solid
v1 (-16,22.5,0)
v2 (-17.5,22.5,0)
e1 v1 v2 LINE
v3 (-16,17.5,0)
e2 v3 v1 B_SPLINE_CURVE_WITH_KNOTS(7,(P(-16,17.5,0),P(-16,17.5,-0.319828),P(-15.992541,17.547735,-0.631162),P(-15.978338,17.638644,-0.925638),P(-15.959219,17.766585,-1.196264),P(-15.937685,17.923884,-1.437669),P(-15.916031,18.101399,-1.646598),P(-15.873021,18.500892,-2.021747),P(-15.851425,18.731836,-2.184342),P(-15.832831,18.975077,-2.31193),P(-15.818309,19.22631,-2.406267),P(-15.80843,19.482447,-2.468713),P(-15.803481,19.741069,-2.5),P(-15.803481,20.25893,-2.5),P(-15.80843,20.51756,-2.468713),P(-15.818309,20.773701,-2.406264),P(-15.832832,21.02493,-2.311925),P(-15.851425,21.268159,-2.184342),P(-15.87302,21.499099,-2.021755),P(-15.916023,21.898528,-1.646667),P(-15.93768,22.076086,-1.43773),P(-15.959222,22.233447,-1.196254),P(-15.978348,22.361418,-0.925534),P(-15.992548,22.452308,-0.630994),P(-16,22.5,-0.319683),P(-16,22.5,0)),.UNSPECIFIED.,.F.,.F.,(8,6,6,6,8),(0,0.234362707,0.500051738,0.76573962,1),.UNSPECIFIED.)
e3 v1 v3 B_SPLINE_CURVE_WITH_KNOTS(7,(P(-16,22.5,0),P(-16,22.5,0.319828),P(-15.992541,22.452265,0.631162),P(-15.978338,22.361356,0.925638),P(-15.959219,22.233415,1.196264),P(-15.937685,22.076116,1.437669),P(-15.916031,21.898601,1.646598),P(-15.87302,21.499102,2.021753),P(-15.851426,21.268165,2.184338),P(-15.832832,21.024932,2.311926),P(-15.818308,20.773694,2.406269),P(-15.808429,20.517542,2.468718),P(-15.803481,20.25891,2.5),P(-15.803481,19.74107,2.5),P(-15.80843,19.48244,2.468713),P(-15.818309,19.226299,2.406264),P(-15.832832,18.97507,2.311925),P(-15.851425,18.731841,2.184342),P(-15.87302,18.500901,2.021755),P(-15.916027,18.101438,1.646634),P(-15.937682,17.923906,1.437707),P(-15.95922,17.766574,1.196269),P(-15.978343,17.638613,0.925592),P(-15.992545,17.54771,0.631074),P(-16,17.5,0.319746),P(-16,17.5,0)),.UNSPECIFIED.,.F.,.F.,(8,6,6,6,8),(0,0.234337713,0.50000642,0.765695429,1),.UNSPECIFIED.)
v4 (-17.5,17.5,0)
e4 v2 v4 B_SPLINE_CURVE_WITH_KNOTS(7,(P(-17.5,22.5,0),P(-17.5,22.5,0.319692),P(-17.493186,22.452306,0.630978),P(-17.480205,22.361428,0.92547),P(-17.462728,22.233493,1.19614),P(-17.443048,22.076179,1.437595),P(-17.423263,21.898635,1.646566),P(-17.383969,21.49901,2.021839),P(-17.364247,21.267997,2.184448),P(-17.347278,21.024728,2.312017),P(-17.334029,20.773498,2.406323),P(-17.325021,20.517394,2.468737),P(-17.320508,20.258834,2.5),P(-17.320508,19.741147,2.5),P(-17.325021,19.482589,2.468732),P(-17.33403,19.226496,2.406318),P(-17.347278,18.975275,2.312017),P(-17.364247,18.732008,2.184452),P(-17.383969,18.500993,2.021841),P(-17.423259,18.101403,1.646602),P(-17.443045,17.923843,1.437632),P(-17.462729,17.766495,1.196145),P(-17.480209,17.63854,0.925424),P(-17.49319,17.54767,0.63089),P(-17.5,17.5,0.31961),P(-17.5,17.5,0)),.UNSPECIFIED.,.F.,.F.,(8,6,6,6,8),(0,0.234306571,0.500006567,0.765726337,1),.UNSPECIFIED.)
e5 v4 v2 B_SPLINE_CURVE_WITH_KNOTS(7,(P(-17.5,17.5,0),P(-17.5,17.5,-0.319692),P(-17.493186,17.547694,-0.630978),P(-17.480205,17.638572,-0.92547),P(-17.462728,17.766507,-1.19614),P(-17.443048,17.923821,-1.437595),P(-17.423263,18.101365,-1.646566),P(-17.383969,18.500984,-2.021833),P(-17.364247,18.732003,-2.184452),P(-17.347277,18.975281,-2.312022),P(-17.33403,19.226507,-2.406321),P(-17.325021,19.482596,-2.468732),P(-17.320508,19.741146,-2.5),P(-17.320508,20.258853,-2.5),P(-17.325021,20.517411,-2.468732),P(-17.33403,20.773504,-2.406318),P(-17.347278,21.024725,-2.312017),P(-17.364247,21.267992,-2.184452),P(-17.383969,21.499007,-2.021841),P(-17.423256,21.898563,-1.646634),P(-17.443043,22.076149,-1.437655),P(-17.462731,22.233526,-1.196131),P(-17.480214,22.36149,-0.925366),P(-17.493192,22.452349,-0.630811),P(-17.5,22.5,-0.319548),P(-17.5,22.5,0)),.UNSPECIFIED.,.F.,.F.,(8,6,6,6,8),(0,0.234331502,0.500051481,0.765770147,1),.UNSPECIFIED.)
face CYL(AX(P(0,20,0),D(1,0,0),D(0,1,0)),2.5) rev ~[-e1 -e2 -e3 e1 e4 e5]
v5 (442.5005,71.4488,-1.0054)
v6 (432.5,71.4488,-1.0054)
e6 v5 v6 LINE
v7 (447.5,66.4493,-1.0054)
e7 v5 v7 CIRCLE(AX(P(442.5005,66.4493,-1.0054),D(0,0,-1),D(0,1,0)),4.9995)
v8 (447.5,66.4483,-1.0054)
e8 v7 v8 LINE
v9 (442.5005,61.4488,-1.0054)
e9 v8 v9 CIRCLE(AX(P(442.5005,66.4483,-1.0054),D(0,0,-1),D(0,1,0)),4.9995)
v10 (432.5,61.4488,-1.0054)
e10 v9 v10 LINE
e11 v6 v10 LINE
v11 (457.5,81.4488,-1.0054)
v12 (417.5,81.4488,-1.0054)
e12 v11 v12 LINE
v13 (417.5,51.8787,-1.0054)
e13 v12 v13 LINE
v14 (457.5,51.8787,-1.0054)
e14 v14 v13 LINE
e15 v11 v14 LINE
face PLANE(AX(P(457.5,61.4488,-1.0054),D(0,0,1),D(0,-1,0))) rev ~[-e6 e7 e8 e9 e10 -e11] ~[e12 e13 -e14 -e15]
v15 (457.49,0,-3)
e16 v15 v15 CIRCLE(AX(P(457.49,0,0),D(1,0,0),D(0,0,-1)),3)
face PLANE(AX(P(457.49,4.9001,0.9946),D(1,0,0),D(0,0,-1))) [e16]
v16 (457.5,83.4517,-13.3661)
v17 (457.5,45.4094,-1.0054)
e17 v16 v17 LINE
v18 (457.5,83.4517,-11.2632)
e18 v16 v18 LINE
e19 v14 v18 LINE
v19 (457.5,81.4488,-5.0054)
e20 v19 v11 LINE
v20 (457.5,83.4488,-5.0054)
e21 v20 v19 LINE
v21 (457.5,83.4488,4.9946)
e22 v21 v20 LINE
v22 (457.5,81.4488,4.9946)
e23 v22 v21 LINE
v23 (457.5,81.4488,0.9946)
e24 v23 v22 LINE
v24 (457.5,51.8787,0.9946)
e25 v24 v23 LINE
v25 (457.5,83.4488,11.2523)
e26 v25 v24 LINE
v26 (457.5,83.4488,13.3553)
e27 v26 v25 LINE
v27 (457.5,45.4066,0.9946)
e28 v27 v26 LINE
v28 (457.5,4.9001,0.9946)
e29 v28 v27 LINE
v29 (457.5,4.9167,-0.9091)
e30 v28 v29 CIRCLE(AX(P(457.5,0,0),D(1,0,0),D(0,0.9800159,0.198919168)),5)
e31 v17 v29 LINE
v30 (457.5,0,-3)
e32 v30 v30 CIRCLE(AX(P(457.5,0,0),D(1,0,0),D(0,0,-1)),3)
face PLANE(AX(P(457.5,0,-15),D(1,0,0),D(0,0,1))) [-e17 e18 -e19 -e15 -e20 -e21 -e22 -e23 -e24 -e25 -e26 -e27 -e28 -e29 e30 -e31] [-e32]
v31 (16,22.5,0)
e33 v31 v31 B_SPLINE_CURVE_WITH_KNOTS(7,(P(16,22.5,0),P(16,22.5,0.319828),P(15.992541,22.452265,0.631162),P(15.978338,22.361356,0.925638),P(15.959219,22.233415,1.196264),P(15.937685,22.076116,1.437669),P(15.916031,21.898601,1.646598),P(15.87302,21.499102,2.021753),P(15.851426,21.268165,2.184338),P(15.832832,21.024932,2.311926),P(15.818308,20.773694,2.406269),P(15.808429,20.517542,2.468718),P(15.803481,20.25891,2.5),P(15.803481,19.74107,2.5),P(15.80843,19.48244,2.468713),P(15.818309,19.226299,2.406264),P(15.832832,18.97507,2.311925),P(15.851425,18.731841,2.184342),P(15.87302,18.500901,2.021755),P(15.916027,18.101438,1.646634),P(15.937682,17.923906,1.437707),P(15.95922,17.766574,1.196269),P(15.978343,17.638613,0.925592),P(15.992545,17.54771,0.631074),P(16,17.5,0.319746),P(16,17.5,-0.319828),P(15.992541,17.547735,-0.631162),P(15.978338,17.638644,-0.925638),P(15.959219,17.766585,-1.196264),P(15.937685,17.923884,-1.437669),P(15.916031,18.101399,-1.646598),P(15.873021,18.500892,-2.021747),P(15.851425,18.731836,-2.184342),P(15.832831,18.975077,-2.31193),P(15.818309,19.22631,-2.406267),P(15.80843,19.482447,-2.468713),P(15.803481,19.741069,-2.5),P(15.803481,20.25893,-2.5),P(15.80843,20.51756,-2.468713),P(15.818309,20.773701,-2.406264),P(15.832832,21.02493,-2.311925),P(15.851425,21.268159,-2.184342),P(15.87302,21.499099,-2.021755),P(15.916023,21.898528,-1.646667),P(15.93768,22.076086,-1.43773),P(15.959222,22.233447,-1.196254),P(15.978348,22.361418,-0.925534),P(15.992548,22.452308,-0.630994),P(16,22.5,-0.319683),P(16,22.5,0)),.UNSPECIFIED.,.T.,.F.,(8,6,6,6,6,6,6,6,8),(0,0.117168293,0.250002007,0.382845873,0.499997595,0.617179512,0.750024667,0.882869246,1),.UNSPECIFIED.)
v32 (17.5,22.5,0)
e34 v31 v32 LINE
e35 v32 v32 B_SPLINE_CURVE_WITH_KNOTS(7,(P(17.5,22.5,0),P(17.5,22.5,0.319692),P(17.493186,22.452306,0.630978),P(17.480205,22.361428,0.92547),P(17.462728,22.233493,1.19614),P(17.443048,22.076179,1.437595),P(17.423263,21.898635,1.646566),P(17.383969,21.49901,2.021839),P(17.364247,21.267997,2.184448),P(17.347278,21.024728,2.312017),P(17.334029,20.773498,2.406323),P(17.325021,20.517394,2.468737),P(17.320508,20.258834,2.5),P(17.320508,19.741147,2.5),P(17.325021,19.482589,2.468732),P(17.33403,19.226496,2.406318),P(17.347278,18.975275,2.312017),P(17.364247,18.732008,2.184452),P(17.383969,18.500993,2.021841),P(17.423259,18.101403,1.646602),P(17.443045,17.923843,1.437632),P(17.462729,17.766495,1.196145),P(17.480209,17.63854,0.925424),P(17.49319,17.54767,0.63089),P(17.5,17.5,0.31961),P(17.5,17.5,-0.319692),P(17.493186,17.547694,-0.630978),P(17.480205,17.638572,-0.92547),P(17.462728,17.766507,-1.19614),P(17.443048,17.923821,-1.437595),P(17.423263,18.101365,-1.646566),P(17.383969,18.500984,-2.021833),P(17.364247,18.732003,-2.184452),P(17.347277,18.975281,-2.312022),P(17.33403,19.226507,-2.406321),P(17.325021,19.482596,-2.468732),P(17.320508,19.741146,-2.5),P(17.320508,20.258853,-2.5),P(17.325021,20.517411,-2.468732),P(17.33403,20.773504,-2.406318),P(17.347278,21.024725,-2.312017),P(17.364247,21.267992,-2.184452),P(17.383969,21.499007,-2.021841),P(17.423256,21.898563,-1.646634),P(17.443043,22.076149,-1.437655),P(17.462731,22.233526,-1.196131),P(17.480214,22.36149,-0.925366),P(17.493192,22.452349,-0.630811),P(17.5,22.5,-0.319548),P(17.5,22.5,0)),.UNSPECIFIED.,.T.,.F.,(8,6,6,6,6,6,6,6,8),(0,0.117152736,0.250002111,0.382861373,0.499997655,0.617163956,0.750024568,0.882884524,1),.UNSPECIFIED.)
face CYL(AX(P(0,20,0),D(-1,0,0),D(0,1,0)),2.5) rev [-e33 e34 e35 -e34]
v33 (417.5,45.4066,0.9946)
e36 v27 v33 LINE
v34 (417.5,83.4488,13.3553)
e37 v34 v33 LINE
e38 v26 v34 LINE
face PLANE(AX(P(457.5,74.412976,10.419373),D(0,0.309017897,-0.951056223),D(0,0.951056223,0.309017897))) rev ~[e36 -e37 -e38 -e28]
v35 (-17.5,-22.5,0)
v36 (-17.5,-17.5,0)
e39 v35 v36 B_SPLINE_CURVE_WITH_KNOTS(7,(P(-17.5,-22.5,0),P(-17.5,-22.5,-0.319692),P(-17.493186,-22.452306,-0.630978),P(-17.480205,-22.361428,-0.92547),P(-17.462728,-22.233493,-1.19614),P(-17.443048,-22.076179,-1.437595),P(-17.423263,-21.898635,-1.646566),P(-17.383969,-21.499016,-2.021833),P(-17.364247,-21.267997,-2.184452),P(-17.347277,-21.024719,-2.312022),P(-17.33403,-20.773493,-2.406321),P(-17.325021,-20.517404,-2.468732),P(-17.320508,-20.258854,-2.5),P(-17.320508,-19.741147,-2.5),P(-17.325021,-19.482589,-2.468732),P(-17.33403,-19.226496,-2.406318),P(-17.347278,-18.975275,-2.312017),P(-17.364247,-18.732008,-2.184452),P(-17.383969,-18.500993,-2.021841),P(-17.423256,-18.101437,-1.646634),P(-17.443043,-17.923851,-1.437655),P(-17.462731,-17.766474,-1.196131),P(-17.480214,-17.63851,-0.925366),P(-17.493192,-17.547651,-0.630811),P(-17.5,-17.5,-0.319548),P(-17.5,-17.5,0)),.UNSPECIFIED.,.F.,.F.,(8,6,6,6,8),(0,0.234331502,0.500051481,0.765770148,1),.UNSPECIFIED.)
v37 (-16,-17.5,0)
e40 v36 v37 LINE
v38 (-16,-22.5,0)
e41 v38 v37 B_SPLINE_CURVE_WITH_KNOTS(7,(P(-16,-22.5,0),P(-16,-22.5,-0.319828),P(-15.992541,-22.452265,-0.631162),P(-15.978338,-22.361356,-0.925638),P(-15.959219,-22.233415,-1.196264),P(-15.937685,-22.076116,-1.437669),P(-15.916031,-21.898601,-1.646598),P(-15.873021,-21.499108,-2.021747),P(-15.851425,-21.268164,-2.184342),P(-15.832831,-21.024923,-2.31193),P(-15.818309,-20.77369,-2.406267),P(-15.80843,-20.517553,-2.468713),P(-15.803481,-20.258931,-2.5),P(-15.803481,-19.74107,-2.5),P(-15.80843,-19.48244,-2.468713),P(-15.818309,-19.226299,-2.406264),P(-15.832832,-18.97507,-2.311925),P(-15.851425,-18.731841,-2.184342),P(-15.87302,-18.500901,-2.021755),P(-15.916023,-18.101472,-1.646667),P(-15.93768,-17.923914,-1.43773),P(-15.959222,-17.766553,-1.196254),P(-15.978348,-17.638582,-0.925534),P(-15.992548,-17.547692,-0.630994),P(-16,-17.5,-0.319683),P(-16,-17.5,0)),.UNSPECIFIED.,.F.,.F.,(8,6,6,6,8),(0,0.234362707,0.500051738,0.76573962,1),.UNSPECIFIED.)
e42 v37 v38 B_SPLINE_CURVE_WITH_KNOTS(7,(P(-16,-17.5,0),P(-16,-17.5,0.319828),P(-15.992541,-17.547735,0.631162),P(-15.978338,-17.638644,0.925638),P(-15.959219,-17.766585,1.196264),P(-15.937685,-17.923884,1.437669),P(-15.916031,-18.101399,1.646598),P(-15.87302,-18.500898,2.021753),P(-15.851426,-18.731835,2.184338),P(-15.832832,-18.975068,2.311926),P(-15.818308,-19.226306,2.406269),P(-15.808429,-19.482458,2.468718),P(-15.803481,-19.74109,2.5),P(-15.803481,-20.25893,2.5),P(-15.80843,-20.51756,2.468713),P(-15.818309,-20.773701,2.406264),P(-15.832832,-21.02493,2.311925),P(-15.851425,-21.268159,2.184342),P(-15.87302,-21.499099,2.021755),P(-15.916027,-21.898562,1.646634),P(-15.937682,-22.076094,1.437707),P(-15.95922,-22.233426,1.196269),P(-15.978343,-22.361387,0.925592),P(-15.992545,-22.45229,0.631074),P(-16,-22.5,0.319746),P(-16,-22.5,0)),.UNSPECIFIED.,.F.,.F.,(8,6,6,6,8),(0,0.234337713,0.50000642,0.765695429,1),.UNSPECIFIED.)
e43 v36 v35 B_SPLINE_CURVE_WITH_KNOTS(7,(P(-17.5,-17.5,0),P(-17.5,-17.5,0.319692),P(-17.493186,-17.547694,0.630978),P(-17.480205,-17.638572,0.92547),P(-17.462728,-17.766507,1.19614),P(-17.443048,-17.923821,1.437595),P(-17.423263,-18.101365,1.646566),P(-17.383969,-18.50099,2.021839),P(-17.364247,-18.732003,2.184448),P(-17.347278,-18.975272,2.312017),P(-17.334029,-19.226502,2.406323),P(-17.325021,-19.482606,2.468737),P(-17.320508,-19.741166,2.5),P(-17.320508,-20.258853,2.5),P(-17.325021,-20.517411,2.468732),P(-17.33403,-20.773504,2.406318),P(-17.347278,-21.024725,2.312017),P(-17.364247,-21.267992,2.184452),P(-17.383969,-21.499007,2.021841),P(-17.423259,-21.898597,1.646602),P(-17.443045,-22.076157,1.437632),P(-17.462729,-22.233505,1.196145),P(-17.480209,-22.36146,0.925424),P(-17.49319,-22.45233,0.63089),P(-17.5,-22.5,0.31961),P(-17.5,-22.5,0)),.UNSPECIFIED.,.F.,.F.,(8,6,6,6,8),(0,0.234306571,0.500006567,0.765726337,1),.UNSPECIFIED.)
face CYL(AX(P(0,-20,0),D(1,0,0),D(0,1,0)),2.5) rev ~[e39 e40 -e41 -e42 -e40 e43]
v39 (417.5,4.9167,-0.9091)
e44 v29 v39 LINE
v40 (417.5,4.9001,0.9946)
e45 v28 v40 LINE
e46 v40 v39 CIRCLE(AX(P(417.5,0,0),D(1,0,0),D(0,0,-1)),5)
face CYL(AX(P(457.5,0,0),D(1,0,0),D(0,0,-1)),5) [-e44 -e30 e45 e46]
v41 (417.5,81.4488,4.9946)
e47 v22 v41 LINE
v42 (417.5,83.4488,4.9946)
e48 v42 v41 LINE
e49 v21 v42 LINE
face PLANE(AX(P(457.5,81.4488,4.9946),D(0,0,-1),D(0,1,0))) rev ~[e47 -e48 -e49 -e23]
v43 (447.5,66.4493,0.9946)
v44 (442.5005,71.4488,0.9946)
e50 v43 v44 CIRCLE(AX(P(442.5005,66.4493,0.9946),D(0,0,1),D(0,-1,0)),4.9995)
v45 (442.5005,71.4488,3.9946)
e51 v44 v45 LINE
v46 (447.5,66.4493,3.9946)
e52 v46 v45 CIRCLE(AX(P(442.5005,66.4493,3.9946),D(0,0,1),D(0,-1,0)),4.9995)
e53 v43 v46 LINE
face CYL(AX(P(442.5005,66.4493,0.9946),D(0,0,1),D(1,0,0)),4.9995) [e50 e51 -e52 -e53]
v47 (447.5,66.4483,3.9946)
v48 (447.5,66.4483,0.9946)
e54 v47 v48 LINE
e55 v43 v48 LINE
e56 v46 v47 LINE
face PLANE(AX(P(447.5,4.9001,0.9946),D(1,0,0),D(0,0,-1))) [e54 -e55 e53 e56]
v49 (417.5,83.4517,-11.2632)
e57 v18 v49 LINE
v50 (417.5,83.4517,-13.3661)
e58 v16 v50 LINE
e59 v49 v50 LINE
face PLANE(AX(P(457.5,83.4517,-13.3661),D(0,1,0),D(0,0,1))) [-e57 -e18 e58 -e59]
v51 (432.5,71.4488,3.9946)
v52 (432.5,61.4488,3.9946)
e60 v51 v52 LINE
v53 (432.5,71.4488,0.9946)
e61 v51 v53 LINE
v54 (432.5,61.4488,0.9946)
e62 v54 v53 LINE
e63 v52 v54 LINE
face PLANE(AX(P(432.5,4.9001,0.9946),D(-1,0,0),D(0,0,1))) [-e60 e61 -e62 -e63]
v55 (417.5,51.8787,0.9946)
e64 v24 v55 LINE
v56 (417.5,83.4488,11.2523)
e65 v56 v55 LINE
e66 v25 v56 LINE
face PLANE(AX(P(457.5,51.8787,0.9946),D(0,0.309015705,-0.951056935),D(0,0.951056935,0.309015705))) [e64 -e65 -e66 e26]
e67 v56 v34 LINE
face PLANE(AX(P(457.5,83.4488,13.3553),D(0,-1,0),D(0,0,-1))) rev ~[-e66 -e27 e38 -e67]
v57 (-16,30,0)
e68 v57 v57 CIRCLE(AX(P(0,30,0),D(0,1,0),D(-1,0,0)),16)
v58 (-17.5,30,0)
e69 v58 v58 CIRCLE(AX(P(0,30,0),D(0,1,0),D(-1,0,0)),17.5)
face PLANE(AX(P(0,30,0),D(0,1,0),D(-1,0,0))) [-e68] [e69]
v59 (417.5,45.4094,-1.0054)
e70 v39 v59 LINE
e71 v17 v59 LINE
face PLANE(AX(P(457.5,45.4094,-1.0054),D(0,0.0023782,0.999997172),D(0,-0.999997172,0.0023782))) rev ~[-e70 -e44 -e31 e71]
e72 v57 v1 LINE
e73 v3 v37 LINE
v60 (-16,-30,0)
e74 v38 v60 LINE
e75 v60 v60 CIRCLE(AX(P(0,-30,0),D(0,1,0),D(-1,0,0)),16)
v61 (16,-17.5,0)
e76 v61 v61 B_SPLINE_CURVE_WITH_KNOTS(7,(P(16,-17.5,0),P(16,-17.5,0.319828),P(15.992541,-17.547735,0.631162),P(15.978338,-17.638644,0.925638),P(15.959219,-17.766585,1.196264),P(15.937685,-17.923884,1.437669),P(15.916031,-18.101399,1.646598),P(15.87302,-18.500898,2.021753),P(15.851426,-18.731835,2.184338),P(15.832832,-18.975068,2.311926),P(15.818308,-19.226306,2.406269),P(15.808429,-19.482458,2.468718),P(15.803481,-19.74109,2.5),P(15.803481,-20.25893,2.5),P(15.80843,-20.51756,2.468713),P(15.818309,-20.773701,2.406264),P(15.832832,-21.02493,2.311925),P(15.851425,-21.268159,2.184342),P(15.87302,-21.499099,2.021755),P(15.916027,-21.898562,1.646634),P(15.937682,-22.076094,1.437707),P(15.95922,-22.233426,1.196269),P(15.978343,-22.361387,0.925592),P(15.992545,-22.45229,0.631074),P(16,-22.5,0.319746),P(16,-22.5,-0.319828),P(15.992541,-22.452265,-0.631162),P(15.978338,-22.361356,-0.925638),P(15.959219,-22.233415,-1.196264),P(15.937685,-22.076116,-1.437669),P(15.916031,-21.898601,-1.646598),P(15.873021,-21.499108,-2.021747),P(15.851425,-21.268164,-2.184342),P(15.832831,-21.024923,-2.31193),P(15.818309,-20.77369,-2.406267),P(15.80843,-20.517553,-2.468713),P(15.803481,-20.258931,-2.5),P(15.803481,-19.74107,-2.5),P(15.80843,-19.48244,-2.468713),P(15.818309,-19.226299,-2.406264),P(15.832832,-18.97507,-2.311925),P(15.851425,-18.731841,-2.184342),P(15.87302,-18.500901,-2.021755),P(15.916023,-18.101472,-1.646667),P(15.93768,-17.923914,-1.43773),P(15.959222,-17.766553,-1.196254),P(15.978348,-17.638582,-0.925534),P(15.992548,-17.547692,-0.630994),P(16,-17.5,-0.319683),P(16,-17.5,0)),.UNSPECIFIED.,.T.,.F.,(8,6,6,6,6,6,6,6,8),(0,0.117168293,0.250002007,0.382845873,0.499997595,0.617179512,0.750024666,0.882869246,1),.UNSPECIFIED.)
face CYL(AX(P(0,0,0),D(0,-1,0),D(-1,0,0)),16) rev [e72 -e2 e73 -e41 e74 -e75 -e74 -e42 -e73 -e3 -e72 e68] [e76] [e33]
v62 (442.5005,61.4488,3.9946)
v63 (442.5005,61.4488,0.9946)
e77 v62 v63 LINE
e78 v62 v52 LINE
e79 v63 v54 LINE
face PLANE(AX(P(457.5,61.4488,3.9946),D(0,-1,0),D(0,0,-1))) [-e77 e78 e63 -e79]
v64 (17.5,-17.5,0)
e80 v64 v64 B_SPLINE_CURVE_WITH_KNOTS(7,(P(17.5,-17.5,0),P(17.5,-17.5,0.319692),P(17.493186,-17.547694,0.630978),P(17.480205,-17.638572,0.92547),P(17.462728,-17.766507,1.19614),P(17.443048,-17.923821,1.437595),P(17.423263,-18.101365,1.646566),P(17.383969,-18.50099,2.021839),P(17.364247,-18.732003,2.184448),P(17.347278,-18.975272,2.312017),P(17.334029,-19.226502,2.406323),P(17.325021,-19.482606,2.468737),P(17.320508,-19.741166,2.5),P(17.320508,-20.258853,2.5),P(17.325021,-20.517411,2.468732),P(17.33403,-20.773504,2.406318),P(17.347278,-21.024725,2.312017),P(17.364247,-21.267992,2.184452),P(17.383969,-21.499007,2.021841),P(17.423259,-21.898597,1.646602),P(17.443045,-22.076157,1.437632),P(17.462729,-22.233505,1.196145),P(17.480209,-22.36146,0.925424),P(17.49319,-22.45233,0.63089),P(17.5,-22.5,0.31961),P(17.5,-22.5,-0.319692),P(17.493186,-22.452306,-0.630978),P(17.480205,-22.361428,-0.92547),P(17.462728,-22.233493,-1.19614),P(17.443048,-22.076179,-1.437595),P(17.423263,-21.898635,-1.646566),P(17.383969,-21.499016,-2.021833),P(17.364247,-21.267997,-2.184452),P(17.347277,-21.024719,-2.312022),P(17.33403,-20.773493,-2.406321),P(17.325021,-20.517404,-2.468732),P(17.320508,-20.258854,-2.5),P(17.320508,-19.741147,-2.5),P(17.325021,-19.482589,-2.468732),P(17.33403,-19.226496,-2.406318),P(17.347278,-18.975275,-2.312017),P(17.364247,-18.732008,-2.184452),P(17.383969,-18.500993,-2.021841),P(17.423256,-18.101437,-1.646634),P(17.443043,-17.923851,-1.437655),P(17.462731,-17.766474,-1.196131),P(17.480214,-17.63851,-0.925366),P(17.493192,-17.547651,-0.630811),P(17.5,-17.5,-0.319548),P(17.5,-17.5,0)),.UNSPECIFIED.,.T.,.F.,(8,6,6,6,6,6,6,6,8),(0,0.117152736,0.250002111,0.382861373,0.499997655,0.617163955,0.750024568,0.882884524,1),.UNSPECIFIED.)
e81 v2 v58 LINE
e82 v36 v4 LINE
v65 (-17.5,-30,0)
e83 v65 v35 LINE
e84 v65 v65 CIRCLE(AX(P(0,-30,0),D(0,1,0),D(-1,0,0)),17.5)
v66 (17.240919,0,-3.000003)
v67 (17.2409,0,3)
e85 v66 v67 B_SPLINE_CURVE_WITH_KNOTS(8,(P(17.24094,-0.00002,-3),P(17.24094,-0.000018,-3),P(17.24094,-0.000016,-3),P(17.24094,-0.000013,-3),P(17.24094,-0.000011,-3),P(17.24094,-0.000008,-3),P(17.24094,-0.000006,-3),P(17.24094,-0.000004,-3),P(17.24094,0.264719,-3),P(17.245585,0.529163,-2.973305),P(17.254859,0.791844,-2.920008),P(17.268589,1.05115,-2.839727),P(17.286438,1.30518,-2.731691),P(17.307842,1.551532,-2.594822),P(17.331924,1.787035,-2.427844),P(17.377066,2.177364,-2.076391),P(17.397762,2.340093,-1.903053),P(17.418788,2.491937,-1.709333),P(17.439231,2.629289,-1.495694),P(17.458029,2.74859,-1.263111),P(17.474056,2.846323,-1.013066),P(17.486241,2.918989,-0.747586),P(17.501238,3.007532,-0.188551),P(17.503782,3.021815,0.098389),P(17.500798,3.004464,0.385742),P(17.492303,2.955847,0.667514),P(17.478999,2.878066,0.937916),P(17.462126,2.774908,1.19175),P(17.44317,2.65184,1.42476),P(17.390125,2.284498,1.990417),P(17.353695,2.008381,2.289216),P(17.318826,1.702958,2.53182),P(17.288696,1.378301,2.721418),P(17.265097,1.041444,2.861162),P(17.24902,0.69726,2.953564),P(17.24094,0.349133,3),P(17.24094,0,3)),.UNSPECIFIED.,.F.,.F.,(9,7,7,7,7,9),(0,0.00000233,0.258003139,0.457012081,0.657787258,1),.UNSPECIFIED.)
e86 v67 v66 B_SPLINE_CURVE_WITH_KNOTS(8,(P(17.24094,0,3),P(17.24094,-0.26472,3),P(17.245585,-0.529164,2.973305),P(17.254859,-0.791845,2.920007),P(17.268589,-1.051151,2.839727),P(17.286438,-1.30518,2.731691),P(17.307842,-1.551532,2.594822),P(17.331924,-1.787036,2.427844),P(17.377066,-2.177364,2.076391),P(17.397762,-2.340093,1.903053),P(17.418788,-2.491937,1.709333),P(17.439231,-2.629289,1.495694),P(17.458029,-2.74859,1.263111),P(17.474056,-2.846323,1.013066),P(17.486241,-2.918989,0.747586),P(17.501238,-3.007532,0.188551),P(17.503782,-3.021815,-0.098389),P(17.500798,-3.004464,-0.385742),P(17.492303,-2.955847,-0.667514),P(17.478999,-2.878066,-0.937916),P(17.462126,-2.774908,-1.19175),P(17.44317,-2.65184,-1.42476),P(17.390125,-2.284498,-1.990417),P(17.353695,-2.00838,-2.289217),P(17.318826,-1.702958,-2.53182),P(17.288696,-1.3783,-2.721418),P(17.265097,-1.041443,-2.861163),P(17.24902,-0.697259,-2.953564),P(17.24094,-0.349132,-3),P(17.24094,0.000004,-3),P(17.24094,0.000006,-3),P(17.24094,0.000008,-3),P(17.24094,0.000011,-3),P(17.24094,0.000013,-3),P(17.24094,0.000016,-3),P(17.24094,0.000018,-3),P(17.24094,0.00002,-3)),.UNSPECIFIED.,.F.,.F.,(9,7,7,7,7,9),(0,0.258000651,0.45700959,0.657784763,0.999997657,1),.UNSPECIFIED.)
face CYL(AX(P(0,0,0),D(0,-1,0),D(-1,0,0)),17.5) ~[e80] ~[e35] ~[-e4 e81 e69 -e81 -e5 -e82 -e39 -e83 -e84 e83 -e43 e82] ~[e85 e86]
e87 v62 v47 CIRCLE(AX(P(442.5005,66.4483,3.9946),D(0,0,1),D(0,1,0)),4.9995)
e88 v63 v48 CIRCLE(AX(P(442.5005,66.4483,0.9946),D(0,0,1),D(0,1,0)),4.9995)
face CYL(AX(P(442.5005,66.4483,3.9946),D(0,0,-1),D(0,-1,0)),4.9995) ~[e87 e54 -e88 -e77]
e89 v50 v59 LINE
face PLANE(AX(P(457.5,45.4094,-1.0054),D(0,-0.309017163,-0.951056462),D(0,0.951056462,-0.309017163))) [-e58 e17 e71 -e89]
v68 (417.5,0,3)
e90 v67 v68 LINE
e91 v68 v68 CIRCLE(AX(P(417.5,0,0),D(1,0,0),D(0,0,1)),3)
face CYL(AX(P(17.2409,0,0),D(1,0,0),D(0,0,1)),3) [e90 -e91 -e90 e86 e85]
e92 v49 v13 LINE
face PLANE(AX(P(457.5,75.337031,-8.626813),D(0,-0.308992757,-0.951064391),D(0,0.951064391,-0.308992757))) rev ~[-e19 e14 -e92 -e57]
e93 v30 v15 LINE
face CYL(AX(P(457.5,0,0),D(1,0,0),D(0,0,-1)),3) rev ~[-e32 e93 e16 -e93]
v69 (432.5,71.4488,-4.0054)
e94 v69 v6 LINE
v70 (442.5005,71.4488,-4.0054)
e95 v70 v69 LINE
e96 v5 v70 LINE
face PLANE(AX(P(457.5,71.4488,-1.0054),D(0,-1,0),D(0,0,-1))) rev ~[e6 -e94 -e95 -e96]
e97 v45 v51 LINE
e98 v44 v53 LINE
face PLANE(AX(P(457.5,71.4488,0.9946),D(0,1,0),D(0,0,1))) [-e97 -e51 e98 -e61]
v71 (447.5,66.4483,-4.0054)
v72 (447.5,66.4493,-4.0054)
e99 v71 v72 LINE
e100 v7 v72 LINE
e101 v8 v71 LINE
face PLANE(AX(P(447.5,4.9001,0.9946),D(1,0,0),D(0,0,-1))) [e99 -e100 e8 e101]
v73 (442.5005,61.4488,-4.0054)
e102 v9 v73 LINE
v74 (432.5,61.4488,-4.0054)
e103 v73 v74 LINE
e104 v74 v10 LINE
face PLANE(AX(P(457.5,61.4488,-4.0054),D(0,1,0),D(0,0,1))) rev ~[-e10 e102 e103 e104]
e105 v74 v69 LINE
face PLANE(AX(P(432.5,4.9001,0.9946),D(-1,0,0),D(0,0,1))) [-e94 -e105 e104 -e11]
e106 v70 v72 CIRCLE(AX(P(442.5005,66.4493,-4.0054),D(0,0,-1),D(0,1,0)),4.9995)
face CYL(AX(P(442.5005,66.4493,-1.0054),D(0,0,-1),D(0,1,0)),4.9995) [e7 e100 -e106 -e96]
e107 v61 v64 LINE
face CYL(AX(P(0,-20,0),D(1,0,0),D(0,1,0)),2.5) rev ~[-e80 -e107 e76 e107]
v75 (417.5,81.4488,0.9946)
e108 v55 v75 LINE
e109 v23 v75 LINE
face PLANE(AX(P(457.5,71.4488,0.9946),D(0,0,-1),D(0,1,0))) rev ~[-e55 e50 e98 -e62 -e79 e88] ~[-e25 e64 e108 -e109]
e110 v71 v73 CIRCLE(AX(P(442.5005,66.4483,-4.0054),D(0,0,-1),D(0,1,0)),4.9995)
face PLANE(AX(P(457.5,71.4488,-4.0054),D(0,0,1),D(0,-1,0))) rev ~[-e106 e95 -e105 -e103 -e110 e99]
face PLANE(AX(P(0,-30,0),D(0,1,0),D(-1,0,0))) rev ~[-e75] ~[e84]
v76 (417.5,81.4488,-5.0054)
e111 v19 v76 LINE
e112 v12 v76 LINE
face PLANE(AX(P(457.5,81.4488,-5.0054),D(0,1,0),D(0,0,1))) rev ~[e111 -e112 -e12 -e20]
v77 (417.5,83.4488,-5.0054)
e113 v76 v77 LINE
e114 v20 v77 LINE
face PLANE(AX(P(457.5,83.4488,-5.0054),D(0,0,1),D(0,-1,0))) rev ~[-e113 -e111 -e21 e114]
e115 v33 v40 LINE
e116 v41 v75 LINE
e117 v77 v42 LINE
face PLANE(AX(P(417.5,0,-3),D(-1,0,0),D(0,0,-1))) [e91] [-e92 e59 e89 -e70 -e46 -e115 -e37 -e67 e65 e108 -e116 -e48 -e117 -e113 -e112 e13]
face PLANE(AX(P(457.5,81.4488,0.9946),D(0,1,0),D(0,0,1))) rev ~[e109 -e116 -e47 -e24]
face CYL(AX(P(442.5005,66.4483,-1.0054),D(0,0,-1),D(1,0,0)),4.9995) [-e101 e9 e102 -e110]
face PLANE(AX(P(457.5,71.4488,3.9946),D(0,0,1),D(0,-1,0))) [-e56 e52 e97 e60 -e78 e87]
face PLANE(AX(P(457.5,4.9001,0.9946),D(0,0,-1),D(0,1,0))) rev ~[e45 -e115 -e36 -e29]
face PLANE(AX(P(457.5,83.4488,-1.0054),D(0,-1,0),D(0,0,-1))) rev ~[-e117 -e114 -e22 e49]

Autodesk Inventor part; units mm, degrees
ref_plane "YZ Plane" through (0, 0, 0) normal (1, 0, 0) x (0, 1, 0)
ref_plane "XZ Plane" through (0, 0, 0) normal (0, 1, 0) x (-1, 0, 0)
ref_plane "XY Plane" through (0, 0, 0) normal (0, 0, 1) x (1, 0, 0)
sketch "Esboço1" plane through (0, 0, 0) normal (0, 1, 0) x (-1, 0, 0)
  circle A0 centre (0, 0) radius 16
  circle A1 centre (0, 0) radius 17.5
  dimension "d0" = 32
  dimension "d1" = 35
extrude "Extrusão1" add sketch "Esboço1" along normal mid plane 60
sketch "Esboço2" plane through (0, 0, 0) normal (0, 1, 0) x (-1, 0, 0)
  circle A0 centre (0, 0) radius 17.5 projected
  line L0 (-17.5, 0) -> (-417.5, 0)
  line L1 (-417.5, 0) -> (-417.5, 3)
  circle A1 centre (0, 0) radius 9.5
  line L2 (-26.4835, 0) -> (-26.4835, 3)
  line L3 (-17.2409, 3) -> (-417.5, 3)
  point P0 (-15.8635, 7.3891)
  dimension "d4" = 400
  dimension "d5" = 3
  dimension "d6" = 19
  dimension "d60" = 3
revolve "Revolução1" add sketch "Esboço2" angle 360 about axis through (17.5, 0, 0) along (1, 0, 0) contours A0 L0 L2 L3 | L2 L0 L1 L3
sketch "Esboço3" plane through (0, 0, 0) normal (0, 1, 0) x (-1, 0, 0)
  line L0 (-417.5, -3) -> (-417.5, 3) projected
  line L1 (-417.5, 0) -> (-417.5, 15)
  line L2 (-417.5, 15) -> (-417.5, -15)
  line L3 (-417.5, -15) -> (-457.5, -15)
  line L4 (-457.5, -15) -> (-457.5, 15)
  line L5 (-457.5, 15) -> (-417.5, 15)
  point P0 (0, 0)
  dimension "d8" = 15
  dimension "d9" = 30
  dimension "d10" = 40
extrude "Extrusão2" add sketch "Esboço3" along normal mid plane 170
sketch "Esboço5" plane through (457.5, -85, -15) normal (1, 0, 0) x (0, 0, -1)
  circle A0 centre (-15, 85) radius 4
  circle A1 centre (-15, 85) radius 3 projected
  line L0 (-16.25, 88.0318) -> (-14.25, 88.0318)
  line L1 (-14.25, 88.0318) -> (-14.25, 87.9047)
  line L2 (-14.25, 87.9047) -> (0, 87.9047)
  line L3 (0, 0) -> (0, 170) projected
  line L4 (-15.75, 87.9047) -> (-30, 87.9047)
  line L5 (-30, 170) -> (-30, 0) projected
  line L6 (-30, 87.9047) -> (-30, 0)
  line L7 (0, 0) -> (-30, 0) projected
  line L8 (-30, 0) -> (0, 0)
  line L9 (0, 0) -> (0, 87.9047)
  circle A2 centre (-15, 85) radius 5
  line L10 (-15.9946, 130.4066) -> (-13.9946, 130.4094)
  line L11 (-13.9946, 130.4094) -> (-14.0909, 89.9167)
  line L12 (-15.9946, 130.4066) -> (-28.3553, 168.4488)
  line L13 (-15.9946, 130.4066) -> (24.0054, 130.4066) construction
  line L14 (-13.9946, 130.4094) -> (-1.6339, 168.4517)
  line L15 (-13.9946, 130.4094) -> (26.0054, 130.4094) construction
  line L16 (-18.099, 136.8832) -> (-16.1969, 137.5013)
  line L17 (-25.4193, 159.413) -> (-23.5172, 160.031)
  line L18 (-4.4713, 159.7191) -> (-6.3734, 160.3371)
  line L19 (-10.3922, 141.4965) -> (-12.2943, 142.1146)
  line L20 (-28.3553, 168.4488) -> (-26.2523, 168.4488)
  line L21 (-1.6339, 168.4517) -> (-3.7368, 168.4517)
  line L22 (-15.0524, 134.2763) -> (-15.0666, 134.2336)
  line L23 (-15.9946, 168.4488) -> (-13.9946, 168.4488)
  line L24 (-15.9946, 89.9001) -> (-15.9946, 130.4066)
  line L25 (-15.9946, 136.8787) -> (-15.9946, 168.4488)
  line L26 (-13.9946, 168.4488) -> (-13.9946, 136.8787)
  line L27 (-15.9946, 136.8787) -> (-26.2523, 168.4488)
  line L28 (-13.9946, 136.8787) -> (-3.7368, 168.4517)
  line L29 (-15.9946, 168.4488) -> (-19.9946, 168.4488)
  line L30 (-19.9946, 168.4488) -> (-9.9946, 168.4488)
  line L31 (-9.9946, 168.4488) -> (-9.9946, 166.4488)
  line L32 (-9.9946, 166.4488) -> (-19.9946, 166.4488)
  line L33 (-19.9946, 166.4488) -> (-19.9946, 168.4488)
  line L34 (-15.9946, 168.4488) -> (-15.9946, 156.4488)
  line L35 (-15.9946, 156.4488) -> (-18.9946, 156.4488)
  line L36 (-18.9946, 156.4488) -> (-18.9946, 146.4488)
  line L37 (-18.9946, 146.4488) -> (-15.9946, 146.4488)
  line L38 (-13.9946, 156.4488) -> (-10.9946, 156.4488)
  line L39 (-10.9946, 156.4488) -> (-10.9946, 146.4488)
  line L40 (-10.9946, 146.4488) -> (-13.9946, 146.4488)
  line L41 (-30, 170) -> (0, 170) projected
  line L42 (-30, 170) -> (-30, 0)
  line L43 (0, 0) -> (0, 170) projected
  line L44 (0, 0) -> (-30, 0)
  line L45 (0, 0) -> (0, 170)
  line L46 (-30, 170) -> (0, 170)
  point P0 (-15, 85)
  point P1 (-15.9946, 166.4488)
  point P2 (-13.9946, 166.4488)
  dimension "d15" = 10
  dimension "d17" = 2
  dimension "d19" = 40
  dimension "d20" = 108
  dimension "d21" = 40
  dimension "d22" = 72
  dimension "d23" = 2
  dimension "d24" = 2
  dimension "d25" = 2
  dimension "d26" = 2
  dimension "d29" = 36
  dimension "d31" = 2
  dimension "d34" = 4
  dimension "d35" = 10
  dimension "d36" = 2
  dimension "d37" = 12
  dimension "d38" = 3
  dimension "d39" = 10
  dimension "d40" = 3
  dimension "d42" = 10
extrude "Extrusão3" cut sketch "Esboço5" against normal blind 170 contours A2 L11 L14 L21 L28 L26 L40 L39 L38 L32 L31 L30 L23 L29 L33 L25 L35 L36 L37 L27 L20 L12 L24 L4 L5 L41 L3 L2 | L2 L3 L7 L5 L4 A2
sketch "Esboço6" plane through (457.5, 4.9001, 0.9946) normal (1, 0, 0) x (0, 0, -1)
  circle A0 centre (0.9946, -4.9001) radius 3
  dimension "d61" = 6
extrude "Extrusão4" cut sketch "Esboço6" against normal blind 0.01
sketch "Esboço7" plane through (457.5, 4.9001, 0.9946) normal (1, 0, 0) x (0, 0, -1)
  line L0 (0, 66.5487) -> (-3, 66.5487) projected
  line L1 (-3, 56.5487) -> (0, 56.5487) projected
  line L2 (0, 66.5487) -> (0, 56.5487)
  line L3 (0, 56.5487) -> (-3, 56.5487)
  line L4 (-3, 66.5487) -> (-3, 56.5487) projected
  line L5 (-3, 56.5487) -> (-3, 66.5487)
  line L6 (-3, 66.5487) -> (0, 66.5487)
  line L7 (2, 56.5487) -> (5, 56.5487) projected
  line L8 (2, 56.5487) -> (5, 56.5487)
  line L9 (2, 66.5487) -> (5, 66.5487) projected
  line L10 (5, 56.5487) -> (5, 66.5487)
  line L11 (5, 66.5487) -> (2, 66.5487)
  line L12 (2, 66.5487) -> (2, 56.5487)
  point P0 (0.9946, -4.9001)
extrude "Extrusão5" cut sketch "Esboço7" against normal blind 10
sketch "Esboço8" plane through (417.5, 4.9001, 0.9946) normal (-1, 0, 0) x (0, 0, 1)
  line L0 (-2, 76.5487) -> (-2, 66.5487) projected
  line L1 (-2, 56.5487) -> (-2, 46.9786) projected
  line L2 (-2, 66.5487) -> (-2, 56.5487)
  line L3 (-5, 56.5487) -> (-2, 56.5487) projected
  line L4 (-2, 56.5487) -> (-5, 56.5487)
  line L5 (-5, 56.5487) -> (-5, 66.5487)
  line L6 (-5, 66.5487) -> (-2, 66.5487)
  line L7 (3, 66.5487) -> (0, 66.5487) projected
  line L8 (0, 66.5487) -> (3, 66.5487)
  line L9 (3, 66.5487) -> (3, 56.5487)
  line L10 (0, 46.9786) -> (0, 56.5487) projected
  line L11 (3, 56.5487) -> (0, 56.5487)
  line L12 (0, 56.5487) -> (0, 66.5487)
  line L13 (0, 76.5487) -> (0, 46.9786) projected
  point P0 (-0.9946, -4.9001)
extrude "Extrusão6" cut sketch "Esboço8" against normal blind 15
fillet "Arredondamento1" radius 5 4 edges at (447.5, 71.4488, 2.4946) (447.5, 61.4488, 2.4946) (447.5, 61.4488, -2.5054) (447.5, 71.4488, -2.5054)
sketch "Esboço9" plane through (0, 0, 0) normal (1, 0, 0) x (0, 1, 0)
  line L0 (30, -17.5) -> (30, 17.5) projected
  line L1 (30, 0) -> (20, 0)
  line L2 (-30, -16) -> (-30, 16) projected
  line L3 (-30, 0) -> (-20, 0)
  circle A0 centre (20, 0) radius 2.5
  circle A1 centre (-20, 0) radius 2.5
  point P0 (0, 0)
  dimension "d52" = 10
  dimension "d53" = 10
  dimension "d56" = 5
  dimension "d57" = 5
extrude "Extrusão7" cut sketch "Esboço9" along normal mid plane 150
properties part number "LDR"
